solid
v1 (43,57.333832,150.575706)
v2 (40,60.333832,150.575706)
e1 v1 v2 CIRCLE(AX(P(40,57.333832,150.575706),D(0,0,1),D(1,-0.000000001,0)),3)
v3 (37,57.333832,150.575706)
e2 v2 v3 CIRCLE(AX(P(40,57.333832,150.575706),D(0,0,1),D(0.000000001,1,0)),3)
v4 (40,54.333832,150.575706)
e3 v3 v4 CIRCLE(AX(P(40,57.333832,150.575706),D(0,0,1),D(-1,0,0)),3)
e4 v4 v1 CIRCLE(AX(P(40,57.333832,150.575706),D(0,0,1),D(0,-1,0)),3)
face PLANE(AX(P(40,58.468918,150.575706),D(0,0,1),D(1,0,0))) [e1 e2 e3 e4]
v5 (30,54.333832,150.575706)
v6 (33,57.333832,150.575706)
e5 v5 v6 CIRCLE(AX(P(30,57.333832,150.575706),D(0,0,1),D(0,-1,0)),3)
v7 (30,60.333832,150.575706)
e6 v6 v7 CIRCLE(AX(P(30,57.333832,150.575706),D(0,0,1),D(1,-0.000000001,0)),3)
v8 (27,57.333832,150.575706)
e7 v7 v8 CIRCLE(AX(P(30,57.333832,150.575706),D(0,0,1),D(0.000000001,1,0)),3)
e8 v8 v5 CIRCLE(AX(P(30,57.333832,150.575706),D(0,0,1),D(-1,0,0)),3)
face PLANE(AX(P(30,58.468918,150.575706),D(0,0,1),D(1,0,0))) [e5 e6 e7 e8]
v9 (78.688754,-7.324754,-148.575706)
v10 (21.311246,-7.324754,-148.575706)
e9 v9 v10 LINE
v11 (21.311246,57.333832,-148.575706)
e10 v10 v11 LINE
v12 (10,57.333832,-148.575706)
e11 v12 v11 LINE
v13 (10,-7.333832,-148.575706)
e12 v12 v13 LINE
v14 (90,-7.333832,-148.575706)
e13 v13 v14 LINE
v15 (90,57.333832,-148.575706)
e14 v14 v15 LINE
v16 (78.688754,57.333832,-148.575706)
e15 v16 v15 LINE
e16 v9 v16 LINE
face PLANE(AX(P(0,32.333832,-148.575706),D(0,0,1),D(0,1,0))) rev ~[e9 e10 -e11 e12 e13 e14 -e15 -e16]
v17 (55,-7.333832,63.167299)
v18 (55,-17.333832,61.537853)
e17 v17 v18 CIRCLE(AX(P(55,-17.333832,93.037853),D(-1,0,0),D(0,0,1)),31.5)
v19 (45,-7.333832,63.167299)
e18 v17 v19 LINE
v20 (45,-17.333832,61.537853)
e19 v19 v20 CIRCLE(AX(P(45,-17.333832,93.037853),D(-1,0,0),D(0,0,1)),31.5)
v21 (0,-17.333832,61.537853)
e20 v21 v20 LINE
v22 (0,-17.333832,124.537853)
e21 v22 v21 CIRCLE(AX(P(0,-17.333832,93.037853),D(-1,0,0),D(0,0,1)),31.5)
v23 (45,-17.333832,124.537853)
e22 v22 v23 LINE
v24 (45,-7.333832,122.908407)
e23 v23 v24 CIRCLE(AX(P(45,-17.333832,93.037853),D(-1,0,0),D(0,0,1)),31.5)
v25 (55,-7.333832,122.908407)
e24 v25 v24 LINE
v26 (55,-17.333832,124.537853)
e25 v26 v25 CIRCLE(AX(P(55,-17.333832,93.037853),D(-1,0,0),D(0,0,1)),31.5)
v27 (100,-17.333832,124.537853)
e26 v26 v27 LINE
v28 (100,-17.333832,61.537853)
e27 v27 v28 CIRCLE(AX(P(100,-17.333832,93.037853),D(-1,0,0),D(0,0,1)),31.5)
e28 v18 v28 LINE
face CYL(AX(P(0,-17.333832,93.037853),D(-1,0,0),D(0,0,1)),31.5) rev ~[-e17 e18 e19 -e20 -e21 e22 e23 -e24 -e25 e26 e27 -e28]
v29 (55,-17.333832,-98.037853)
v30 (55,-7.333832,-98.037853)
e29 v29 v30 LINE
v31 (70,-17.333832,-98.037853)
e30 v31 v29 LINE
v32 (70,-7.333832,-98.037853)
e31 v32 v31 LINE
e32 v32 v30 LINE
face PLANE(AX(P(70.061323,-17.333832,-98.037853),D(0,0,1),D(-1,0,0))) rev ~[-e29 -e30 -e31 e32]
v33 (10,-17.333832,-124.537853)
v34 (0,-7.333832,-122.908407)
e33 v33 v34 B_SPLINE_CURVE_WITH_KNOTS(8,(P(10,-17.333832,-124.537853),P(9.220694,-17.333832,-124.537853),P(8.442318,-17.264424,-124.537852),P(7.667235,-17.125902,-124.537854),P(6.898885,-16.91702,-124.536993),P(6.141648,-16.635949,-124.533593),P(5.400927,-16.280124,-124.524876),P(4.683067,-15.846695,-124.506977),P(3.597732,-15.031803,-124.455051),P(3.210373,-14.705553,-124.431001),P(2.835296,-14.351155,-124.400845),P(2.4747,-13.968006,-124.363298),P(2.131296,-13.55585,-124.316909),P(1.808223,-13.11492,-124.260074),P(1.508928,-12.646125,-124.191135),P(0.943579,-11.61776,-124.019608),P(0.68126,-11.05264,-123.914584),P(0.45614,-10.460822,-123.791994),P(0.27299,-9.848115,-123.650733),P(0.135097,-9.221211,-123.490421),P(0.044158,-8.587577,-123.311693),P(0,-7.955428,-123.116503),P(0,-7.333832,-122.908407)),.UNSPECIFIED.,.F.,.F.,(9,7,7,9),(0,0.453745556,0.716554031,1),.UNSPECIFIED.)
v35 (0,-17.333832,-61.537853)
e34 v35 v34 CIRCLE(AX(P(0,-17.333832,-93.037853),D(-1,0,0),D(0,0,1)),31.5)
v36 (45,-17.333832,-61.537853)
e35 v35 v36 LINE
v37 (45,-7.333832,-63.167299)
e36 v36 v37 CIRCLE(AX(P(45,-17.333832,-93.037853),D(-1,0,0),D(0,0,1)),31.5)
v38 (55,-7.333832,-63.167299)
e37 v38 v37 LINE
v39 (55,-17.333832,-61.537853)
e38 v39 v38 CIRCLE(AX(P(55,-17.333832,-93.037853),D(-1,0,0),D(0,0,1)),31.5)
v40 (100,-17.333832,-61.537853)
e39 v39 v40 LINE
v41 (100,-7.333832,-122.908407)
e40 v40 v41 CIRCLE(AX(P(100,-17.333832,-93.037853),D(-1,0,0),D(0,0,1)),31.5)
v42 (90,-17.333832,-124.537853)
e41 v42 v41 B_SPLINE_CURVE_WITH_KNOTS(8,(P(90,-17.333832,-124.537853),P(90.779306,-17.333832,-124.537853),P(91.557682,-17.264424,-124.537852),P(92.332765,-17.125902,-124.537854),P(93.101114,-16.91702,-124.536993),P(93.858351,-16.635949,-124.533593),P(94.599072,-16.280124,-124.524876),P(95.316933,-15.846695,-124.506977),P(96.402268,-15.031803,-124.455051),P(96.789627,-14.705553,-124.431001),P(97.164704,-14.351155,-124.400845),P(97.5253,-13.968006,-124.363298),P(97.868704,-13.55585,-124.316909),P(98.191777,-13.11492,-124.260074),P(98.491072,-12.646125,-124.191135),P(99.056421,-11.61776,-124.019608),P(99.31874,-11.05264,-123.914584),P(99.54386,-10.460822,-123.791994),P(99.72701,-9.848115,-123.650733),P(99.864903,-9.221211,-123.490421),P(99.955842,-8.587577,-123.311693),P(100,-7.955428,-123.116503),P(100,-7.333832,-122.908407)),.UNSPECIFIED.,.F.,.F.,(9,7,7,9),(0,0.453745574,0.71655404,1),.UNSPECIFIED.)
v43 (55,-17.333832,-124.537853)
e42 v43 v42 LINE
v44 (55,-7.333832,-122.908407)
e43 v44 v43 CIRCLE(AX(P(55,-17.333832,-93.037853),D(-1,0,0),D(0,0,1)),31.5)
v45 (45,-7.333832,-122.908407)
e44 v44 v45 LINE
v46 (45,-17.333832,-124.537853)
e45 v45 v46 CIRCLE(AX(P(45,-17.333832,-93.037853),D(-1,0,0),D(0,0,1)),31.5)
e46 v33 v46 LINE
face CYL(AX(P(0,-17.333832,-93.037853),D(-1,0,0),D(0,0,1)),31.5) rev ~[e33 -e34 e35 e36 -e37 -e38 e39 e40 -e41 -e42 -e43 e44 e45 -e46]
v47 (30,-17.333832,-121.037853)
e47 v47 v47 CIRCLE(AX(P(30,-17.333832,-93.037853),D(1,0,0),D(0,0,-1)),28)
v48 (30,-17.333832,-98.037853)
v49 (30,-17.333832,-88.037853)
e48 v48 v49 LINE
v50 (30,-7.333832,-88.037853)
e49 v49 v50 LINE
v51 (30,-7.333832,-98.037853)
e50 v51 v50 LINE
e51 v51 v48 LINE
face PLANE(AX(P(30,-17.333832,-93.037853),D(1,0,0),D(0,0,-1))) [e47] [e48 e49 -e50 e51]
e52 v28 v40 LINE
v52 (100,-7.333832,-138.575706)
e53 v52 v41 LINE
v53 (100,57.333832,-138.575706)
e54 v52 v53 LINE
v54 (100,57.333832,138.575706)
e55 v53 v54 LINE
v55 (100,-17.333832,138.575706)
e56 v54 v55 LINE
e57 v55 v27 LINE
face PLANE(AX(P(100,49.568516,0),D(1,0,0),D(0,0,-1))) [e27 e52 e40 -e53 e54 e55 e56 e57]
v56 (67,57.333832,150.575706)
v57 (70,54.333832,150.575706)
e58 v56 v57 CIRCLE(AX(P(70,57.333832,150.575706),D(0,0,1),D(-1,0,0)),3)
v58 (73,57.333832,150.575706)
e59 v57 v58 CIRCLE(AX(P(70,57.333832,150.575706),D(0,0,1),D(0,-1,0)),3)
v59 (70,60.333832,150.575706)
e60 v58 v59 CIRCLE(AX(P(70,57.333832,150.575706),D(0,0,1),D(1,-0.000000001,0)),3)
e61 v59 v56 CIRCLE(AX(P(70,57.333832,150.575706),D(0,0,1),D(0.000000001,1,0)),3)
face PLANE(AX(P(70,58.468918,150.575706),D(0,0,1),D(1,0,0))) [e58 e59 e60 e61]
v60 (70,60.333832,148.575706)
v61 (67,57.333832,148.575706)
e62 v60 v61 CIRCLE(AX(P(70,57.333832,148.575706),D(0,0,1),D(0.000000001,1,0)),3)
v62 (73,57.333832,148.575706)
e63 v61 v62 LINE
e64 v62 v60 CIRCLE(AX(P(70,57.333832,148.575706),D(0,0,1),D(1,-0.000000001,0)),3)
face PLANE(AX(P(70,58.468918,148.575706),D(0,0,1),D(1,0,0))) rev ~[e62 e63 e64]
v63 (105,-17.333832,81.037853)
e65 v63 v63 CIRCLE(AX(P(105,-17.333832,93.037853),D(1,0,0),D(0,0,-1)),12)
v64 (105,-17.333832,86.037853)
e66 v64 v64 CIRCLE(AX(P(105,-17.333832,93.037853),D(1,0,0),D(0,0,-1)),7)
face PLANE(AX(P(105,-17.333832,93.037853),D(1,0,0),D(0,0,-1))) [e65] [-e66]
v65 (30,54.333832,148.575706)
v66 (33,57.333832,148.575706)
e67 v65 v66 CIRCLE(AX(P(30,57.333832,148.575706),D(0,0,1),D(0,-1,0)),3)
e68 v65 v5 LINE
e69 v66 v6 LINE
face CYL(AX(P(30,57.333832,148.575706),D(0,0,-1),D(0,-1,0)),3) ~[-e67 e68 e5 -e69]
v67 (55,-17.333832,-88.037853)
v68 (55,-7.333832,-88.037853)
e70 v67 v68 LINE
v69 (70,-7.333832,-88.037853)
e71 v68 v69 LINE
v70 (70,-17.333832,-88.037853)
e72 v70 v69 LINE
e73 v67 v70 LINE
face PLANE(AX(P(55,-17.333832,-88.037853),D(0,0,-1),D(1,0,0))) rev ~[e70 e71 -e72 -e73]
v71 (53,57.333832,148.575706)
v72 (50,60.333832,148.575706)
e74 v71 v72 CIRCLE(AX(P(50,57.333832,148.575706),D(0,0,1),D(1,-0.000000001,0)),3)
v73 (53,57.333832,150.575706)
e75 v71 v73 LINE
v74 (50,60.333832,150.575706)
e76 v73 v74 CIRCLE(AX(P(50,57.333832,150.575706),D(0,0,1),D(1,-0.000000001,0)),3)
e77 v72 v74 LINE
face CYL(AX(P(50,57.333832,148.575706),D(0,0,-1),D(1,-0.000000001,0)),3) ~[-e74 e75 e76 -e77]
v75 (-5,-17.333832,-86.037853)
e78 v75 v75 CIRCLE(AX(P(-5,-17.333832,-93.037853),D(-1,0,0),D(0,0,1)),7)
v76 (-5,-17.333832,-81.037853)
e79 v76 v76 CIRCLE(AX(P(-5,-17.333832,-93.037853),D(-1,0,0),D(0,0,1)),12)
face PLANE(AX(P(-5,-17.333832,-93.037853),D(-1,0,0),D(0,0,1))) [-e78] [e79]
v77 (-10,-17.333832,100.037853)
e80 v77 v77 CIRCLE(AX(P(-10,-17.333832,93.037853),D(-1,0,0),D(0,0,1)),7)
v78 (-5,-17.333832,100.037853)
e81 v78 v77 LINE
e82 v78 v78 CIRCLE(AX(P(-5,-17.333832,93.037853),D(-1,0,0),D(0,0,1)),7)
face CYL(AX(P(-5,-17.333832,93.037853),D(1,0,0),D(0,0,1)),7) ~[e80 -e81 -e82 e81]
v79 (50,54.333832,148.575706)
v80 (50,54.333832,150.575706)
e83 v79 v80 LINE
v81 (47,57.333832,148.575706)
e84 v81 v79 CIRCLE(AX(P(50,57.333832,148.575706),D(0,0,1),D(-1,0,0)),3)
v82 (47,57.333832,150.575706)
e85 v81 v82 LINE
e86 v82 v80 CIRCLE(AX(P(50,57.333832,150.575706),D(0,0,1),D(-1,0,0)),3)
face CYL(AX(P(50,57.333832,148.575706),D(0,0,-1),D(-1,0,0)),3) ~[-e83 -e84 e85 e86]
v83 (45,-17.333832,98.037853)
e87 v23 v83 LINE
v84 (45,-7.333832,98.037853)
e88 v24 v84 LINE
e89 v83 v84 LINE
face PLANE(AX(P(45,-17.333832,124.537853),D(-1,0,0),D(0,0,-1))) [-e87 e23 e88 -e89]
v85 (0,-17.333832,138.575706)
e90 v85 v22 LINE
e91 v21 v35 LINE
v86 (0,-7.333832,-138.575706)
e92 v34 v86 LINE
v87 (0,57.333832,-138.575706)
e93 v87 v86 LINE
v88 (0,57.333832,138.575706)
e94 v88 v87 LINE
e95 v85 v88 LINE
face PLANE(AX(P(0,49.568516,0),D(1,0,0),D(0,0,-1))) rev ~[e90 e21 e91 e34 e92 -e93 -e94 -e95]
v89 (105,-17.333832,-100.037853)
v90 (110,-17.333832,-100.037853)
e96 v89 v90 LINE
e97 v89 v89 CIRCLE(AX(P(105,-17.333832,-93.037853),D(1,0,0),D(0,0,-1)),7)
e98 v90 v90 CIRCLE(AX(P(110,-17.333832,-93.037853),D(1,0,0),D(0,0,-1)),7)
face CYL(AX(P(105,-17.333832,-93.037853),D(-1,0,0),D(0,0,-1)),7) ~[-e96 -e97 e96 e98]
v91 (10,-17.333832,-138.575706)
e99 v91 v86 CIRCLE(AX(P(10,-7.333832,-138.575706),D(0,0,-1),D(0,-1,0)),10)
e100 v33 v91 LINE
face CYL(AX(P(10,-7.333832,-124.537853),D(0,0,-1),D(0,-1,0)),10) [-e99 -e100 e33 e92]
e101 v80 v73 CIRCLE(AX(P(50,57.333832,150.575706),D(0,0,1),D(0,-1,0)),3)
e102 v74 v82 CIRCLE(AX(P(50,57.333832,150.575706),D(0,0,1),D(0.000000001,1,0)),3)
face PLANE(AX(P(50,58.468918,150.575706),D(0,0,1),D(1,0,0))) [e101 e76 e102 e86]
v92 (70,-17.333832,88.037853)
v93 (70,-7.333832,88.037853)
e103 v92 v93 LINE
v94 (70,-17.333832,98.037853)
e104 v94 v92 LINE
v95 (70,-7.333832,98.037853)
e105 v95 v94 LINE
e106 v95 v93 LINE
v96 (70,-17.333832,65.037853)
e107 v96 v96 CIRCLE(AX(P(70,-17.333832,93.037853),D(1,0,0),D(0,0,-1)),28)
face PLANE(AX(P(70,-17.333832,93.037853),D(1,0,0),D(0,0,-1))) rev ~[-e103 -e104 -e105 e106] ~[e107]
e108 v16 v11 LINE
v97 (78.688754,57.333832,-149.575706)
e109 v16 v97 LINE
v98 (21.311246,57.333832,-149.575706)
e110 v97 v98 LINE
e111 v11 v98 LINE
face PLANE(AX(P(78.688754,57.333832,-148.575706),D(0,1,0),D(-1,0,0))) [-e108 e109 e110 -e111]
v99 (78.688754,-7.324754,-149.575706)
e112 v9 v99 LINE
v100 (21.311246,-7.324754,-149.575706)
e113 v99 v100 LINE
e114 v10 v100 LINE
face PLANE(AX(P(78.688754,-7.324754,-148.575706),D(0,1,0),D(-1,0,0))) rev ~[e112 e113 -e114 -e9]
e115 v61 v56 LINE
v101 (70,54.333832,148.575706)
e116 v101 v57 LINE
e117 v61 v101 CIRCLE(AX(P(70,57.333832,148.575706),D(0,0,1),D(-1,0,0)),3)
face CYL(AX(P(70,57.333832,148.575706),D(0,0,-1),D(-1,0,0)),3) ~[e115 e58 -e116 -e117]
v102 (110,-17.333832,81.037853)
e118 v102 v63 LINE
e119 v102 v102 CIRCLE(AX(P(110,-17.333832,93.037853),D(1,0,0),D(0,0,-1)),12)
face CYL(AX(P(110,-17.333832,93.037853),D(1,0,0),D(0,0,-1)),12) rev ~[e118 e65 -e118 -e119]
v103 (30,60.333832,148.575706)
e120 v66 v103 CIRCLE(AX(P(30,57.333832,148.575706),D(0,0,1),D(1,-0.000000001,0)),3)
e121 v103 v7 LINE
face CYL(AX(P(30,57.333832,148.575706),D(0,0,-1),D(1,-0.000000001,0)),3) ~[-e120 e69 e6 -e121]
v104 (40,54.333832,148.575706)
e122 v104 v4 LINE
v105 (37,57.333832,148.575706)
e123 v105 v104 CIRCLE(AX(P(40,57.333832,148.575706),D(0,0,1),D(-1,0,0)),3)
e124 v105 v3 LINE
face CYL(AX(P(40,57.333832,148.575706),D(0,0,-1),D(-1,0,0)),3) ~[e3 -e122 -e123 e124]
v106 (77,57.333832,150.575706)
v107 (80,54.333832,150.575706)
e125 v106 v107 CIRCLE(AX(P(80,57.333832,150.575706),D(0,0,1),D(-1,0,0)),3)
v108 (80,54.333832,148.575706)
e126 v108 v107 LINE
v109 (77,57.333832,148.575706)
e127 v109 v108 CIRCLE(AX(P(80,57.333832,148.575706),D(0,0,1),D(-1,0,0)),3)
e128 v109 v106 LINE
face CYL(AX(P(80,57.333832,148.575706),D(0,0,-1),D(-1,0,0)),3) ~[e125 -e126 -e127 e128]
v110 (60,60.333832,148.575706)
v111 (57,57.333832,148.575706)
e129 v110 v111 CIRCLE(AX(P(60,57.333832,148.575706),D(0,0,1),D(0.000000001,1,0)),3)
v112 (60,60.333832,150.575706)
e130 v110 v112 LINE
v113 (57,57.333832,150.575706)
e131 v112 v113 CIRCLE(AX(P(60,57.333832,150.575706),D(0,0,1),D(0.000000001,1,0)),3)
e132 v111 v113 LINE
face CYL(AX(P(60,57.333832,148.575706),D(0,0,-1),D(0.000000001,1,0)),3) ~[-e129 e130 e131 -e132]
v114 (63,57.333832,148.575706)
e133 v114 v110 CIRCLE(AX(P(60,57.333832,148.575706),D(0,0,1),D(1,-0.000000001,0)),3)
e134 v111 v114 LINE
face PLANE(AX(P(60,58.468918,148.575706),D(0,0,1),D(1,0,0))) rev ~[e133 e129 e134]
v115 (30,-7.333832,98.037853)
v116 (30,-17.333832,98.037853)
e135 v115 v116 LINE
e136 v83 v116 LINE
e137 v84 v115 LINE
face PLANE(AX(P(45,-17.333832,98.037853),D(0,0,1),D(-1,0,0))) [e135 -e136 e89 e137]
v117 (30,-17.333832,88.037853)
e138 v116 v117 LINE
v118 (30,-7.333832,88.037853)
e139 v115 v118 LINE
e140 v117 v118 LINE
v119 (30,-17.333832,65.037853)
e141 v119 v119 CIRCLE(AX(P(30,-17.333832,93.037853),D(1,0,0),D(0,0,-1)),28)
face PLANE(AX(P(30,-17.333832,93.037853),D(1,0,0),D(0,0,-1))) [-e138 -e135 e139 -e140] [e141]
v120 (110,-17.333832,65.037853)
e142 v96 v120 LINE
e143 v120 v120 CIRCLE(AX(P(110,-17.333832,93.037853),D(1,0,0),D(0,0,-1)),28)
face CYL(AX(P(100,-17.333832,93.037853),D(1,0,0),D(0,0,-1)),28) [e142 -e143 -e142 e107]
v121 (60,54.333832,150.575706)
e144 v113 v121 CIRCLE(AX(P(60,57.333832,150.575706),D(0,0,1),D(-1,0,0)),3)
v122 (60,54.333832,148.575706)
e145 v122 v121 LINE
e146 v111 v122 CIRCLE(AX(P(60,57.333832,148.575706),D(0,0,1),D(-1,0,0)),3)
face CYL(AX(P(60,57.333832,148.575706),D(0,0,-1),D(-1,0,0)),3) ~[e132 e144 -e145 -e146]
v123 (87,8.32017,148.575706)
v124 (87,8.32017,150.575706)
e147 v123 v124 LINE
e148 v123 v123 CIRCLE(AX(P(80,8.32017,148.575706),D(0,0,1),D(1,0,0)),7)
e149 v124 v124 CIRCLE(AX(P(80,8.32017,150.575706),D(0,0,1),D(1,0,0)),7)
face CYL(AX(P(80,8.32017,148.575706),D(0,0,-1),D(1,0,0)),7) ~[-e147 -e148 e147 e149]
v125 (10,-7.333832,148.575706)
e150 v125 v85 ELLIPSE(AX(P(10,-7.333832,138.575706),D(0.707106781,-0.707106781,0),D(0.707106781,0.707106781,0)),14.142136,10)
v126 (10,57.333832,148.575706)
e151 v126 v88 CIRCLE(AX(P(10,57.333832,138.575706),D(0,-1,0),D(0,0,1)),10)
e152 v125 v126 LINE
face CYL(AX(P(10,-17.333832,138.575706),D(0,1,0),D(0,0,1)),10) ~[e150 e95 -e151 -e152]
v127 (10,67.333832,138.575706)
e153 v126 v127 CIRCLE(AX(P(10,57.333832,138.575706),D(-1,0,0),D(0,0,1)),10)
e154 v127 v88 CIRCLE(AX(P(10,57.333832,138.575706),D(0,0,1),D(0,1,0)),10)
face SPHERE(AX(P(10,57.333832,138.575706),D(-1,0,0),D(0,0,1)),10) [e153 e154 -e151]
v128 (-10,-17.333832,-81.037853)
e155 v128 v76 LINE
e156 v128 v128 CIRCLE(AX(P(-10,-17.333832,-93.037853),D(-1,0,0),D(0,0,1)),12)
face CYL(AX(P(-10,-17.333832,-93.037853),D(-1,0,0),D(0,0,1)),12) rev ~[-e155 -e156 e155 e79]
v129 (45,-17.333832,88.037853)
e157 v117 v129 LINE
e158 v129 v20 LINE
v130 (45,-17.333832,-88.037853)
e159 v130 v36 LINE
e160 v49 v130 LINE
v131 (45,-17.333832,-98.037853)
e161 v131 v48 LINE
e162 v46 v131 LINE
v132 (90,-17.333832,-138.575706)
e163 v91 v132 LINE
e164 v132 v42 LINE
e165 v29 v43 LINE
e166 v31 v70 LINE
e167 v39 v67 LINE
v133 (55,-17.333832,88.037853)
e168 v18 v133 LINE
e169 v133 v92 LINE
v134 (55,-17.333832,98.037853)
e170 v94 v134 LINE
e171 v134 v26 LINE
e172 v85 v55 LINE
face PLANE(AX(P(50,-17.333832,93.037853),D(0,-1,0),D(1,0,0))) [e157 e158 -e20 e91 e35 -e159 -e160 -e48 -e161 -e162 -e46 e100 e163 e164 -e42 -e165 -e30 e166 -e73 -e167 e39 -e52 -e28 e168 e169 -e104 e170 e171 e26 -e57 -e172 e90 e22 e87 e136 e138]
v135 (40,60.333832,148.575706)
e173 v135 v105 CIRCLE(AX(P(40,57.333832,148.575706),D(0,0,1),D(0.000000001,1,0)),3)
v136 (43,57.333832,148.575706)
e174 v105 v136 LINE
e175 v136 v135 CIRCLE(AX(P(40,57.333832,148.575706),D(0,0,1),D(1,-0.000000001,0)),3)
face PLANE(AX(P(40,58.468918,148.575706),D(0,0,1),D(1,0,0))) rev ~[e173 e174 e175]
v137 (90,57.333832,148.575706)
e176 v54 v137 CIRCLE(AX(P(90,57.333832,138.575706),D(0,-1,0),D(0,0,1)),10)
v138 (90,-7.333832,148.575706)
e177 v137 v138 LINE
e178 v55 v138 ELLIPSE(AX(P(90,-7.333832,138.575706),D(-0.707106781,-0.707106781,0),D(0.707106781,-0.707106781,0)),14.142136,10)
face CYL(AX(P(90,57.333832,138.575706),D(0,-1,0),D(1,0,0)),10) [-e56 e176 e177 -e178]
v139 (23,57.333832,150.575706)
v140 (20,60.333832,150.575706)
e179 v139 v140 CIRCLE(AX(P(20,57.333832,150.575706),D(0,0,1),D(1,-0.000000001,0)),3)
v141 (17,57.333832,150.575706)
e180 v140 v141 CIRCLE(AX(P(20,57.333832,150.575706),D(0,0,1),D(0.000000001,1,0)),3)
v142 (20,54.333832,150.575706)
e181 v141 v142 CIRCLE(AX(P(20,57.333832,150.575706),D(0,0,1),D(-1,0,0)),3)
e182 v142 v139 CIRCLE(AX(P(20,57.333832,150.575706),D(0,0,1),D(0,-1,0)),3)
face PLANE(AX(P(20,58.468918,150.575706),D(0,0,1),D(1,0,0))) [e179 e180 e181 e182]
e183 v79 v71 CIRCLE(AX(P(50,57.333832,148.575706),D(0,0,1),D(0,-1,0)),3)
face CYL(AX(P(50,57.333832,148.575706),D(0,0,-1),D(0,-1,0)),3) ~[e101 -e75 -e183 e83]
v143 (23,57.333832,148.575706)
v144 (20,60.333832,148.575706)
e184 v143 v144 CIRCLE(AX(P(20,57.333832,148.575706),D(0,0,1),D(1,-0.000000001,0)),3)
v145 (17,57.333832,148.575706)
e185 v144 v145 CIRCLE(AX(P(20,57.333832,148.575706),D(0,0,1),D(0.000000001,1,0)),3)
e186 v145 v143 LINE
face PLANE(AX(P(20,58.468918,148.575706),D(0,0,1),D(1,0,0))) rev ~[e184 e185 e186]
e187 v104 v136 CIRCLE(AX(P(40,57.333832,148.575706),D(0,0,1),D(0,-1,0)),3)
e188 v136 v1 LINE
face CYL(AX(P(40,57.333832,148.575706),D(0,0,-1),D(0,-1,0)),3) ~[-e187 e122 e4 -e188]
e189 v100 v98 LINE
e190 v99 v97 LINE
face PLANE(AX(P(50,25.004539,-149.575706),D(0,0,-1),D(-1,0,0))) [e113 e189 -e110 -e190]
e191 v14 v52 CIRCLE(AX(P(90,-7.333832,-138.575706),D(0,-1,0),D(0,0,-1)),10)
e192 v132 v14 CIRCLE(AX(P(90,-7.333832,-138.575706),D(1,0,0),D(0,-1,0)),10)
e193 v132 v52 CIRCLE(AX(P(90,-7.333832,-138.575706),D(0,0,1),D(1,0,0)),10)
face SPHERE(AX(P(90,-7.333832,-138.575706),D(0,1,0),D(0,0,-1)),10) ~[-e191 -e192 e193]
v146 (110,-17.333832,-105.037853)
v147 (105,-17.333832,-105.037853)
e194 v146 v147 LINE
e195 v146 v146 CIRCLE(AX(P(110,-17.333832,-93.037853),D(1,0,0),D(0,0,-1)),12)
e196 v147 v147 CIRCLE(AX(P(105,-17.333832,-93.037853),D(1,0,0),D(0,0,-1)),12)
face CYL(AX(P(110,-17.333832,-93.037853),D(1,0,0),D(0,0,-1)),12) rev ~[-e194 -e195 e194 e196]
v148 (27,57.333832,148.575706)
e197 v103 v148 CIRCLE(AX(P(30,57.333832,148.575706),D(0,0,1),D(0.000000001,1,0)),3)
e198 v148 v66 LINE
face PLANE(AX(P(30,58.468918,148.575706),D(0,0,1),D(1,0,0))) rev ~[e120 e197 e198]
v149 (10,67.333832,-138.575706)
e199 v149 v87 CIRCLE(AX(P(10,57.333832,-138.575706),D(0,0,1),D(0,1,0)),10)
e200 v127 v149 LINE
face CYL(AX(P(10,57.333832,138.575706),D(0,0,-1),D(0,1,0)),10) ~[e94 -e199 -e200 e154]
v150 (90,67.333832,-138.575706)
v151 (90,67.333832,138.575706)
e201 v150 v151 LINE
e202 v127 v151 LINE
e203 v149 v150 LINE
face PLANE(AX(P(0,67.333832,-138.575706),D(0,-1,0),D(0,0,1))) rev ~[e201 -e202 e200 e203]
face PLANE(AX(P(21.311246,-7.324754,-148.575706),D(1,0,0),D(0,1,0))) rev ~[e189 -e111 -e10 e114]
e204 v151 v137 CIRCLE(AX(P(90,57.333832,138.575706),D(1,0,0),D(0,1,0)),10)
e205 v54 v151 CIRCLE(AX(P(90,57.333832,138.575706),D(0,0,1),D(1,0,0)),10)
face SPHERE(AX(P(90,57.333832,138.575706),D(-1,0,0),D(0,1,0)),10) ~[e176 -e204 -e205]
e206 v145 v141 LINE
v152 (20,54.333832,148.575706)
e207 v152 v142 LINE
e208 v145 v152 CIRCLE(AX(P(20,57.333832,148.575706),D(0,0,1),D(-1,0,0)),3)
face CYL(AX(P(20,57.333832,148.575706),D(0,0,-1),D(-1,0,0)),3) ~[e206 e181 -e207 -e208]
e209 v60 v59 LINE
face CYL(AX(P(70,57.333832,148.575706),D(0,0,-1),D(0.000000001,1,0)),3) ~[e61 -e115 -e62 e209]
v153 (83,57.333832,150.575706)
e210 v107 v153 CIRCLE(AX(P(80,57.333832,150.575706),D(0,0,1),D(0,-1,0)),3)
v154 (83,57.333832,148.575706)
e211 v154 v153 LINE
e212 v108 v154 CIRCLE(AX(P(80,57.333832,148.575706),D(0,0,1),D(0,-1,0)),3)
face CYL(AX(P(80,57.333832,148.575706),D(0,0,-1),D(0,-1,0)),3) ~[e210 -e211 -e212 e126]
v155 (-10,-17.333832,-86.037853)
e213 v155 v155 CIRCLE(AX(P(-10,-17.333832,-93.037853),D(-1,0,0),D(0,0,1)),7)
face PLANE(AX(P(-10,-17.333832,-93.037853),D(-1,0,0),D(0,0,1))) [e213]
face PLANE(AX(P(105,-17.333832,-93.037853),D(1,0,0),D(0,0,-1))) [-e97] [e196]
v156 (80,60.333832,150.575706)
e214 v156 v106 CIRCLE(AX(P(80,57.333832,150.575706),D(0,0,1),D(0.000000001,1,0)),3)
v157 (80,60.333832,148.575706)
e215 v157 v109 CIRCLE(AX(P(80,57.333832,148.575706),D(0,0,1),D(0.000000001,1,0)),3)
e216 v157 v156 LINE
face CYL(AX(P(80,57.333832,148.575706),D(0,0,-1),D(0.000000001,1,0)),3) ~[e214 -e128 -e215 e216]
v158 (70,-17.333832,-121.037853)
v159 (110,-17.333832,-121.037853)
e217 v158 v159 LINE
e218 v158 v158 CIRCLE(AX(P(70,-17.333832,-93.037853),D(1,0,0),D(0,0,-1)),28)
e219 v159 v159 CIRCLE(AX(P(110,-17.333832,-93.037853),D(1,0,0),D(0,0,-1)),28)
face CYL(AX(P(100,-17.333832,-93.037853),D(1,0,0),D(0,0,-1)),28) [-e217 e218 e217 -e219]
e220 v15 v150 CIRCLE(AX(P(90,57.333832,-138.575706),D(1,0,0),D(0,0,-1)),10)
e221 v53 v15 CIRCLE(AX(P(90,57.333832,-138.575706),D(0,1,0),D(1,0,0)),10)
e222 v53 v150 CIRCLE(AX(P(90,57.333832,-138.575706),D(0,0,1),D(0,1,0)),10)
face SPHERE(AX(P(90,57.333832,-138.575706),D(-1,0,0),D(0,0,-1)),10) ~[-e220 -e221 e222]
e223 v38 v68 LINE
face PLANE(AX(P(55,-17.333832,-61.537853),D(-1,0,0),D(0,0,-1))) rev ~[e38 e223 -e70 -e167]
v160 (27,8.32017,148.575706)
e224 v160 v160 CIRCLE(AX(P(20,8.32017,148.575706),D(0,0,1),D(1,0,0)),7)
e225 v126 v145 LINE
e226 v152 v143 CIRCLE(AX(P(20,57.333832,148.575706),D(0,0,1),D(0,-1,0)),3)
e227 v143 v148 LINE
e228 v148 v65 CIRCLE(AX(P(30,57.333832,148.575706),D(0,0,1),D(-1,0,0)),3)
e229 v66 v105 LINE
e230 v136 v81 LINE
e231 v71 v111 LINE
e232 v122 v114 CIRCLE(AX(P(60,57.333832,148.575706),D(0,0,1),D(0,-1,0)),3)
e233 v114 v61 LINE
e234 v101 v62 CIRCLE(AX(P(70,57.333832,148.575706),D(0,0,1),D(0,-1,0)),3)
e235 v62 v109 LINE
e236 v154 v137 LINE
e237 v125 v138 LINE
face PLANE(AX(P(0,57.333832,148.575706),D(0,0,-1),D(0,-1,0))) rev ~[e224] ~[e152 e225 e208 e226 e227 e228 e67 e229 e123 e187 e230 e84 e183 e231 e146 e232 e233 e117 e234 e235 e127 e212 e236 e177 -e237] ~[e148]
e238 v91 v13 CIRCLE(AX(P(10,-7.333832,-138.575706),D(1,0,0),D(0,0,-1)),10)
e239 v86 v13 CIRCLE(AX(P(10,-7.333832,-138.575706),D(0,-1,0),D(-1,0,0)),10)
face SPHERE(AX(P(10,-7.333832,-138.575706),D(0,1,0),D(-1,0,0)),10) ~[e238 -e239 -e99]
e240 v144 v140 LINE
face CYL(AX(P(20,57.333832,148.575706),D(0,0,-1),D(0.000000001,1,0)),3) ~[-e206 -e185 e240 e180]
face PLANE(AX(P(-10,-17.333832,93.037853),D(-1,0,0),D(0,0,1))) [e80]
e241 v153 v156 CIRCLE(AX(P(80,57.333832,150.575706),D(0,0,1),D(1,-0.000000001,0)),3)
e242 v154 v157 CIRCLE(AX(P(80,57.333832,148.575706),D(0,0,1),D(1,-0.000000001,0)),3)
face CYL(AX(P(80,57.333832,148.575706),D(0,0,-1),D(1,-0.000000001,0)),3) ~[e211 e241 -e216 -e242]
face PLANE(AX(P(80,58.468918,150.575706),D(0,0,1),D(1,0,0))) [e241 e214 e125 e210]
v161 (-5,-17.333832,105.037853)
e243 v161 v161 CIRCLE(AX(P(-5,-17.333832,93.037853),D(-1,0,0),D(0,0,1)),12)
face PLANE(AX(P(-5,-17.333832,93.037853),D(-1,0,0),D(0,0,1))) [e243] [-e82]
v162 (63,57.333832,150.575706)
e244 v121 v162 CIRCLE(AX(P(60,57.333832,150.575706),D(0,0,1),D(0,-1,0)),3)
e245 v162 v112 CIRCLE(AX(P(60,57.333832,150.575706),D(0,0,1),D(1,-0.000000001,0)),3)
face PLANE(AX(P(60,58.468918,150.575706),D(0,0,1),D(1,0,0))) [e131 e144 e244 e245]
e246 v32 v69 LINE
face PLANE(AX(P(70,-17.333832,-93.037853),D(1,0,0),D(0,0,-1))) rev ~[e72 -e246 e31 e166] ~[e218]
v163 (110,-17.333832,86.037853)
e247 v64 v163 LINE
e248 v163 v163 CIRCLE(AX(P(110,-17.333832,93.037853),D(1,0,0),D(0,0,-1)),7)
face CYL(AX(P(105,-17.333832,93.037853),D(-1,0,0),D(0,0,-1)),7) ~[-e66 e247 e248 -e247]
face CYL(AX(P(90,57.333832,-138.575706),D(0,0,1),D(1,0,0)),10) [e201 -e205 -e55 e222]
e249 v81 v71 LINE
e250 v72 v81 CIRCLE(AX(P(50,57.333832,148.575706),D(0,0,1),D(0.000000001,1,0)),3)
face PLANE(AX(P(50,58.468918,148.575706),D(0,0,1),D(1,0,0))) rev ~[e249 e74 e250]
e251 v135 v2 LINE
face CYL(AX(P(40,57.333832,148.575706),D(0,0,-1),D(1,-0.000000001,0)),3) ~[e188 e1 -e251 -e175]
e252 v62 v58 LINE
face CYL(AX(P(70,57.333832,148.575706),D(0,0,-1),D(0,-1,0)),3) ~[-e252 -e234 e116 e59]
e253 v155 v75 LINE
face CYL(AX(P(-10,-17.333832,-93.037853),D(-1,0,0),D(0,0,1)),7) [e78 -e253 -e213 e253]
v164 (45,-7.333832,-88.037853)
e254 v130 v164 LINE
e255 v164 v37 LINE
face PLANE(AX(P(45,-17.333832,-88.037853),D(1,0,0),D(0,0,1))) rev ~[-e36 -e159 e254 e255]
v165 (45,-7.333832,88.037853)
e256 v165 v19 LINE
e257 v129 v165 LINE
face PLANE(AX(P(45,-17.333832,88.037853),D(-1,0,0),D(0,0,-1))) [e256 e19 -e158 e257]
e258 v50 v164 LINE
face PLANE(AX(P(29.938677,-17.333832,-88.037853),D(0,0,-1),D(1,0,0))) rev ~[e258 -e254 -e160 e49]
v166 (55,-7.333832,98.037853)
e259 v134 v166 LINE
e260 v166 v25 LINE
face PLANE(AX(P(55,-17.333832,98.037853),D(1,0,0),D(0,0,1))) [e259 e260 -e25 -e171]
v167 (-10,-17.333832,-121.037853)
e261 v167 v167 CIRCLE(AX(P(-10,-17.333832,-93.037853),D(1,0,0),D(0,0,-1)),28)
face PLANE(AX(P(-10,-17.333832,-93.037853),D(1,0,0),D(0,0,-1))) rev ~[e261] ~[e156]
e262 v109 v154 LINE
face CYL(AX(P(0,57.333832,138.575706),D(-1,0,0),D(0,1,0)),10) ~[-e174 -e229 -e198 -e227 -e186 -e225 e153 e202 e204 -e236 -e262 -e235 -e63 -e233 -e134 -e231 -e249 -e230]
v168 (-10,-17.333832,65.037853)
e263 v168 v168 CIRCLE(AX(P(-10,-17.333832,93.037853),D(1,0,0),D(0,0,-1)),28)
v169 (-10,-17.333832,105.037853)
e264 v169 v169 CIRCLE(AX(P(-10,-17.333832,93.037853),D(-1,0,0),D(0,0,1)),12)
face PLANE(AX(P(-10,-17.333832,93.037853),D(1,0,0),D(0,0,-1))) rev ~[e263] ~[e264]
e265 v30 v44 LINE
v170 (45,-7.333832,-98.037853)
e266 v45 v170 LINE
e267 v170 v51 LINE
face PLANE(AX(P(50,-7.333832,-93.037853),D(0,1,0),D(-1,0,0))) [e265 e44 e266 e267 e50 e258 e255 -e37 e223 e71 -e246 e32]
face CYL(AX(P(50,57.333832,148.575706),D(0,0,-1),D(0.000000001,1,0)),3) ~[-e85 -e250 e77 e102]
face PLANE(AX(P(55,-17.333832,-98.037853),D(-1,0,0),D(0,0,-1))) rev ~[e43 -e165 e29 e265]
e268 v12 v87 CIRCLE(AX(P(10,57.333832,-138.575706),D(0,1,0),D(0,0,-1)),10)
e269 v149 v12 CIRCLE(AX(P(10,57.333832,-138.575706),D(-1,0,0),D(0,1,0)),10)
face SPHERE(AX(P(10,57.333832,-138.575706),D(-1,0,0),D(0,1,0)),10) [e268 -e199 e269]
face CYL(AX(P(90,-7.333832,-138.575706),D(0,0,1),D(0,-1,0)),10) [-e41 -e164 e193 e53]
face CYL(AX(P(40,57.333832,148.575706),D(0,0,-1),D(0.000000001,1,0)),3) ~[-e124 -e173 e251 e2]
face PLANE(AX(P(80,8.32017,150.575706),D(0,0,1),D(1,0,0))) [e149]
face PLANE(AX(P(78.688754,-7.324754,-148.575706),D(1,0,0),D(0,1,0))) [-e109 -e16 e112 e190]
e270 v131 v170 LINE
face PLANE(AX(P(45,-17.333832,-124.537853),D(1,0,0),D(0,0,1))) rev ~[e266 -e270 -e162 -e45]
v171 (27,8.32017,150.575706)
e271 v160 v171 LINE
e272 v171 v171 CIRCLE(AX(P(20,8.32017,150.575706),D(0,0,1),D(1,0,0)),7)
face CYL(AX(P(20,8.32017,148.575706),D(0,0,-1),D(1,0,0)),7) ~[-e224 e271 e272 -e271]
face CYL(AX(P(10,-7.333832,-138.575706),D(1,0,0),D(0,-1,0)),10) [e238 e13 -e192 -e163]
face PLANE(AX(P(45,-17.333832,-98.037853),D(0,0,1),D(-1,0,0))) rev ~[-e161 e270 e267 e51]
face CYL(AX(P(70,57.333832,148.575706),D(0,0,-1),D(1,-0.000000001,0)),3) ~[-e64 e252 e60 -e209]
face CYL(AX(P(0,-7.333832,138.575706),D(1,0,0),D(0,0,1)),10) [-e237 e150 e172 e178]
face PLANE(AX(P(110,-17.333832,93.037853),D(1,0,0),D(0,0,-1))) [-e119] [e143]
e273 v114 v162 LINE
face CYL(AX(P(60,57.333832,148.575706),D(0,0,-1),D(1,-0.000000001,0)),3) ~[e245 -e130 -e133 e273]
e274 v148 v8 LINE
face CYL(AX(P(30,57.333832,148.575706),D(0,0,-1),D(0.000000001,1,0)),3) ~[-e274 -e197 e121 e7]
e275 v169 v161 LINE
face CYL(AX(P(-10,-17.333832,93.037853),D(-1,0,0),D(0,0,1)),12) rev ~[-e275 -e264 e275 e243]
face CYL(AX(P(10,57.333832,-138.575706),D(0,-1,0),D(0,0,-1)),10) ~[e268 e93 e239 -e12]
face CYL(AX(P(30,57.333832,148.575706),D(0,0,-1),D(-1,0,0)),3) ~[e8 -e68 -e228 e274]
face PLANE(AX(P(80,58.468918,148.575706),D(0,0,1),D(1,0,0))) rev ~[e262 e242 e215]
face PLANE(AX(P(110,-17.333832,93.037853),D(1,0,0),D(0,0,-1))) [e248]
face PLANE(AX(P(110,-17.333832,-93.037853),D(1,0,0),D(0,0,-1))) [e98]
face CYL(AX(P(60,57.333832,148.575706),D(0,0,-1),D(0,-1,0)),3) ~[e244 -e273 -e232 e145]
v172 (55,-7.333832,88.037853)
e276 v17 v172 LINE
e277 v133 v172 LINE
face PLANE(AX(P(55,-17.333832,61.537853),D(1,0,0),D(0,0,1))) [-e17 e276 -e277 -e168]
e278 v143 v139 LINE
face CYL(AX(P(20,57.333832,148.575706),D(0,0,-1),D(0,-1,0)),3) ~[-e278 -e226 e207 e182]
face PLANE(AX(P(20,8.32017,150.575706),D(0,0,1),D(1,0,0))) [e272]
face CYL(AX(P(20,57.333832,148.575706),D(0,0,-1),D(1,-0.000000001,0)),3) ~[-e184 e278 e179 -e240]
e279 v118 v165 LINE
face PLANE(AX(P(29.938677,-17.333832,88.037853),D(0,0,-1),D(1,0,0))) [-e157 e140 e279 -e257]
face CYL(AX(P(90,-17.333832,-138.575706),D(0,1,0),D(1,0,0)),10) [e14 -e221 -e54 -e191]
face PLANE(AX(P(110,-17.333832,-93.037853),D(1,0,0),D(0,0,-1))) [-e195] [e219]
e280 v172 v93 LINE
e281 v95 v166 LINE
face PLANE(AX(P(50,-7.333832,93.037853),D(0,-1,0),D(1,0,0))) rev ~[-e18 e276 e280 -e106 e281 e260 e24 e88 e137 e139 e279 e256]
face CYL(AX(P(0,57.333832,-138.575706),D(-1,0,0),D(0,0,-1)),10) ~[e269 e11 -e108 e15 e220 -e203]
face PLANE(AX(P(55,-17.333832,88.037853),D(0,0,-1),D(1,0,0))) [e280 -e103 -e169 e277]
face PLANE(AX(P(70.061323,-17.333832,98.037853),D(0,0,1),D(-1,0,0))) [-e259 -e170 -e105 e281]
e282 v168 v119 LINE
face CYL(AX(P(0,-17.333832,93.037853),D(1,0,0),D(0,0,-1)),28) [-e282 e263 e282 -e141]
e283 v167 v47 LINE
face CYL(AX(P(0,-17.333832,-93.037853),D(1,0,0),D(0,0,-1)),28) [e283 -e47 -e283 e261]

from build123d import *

# Parameters (mm, degrees)
EXTRUDE_1_DEPTH        = 100
SKETCH_2_R             = 28
EXTRUDE_2_DEPTH        = 30
EXTRUDE_2_DEPTH_BACK   = 10
EXTRUDE_2_2_DEPTH      = 30
EXTRUDE_2_2_DEPTH_BACK = 10
SKETCH_3_R             = 28
EXTRUDE_3_DEPTH        = 10
EXTRUDE_3_DEPTH_BACK   = 30
EXTRUDE_3_2_DEPTH      = 10
EXTRUDE_3_2_DEPTH_BACK = 30
EXTRUDE_5_DEPTH        = 10
EXTRUDE_7_DEPTH        = 100
FILLET_1_R             = 10
FILLET_2_R             = 10
SKETCH_10_R            = 7
EXTRUDE_9_DEPTH        = 2
SKETCH_11_R            = 12
CUT_EXTRUDE_1_DEPTH    = 5
SKETCH_12_R            = 7
EXTRUDE_11_DEPTH       = 5
SKETCH_13_R            = 12
CUT_EXTRUDE_2_DEPTH    = 5
SKETCH_14_R            = 7
EXTRUDE_12_DEPTH       = 5
SKETCH_15_R            = 12
CUT_EXTRUDE_3_DEPTH    = 5
SKETCH_16_R            = 7
EXTRUDE_13_DEPTH       = 5
SKETCH_17_R            = 12
CUT_EXTRUDE_4_DEPTH    = 5
SKETCH_18_R            = 7
EXTRUDE_14_DEPTH       = 5
SKETCH_21_W            = 57.37750778
SKETCH_21_H            = 64.658586112
EXTRUDE_15_DEPTH       = 1


with BuildPart() as part:
    # Эскиз1 → Бобышка-Вытянуть1 (new body)
    with BuildSketch(Plane(origin=(0, 0, 0), x_dir=(0, 0, -1), z_dir=(1, 0, 0))):
        with BuildLine():
            Line((-61.537852792, -17.333832318), (61.537852792, -17.333832318))
            ThreePointArc((61.537852792, -17.333832318), (93.037852792, 14.166167682), (124.537852792, -17.333832318))
            Line((124.537852792, -17.333832318), (148.575705584, -17.333832318))
            Line((148.575705584, -17.333832318), (148.575705584, 17.333832318))
            Line((148.575705584, 17.333832318), (148.575705584, 32.333832318))
            Line((148.575705584, 32.333832318), (-148.575705584, 32.333832318))
            Line((-148.575705584, 32.333832318), (-148.575705584, 17.333832318))
            Line((-148.575705584, 17.333832318), (-148.575705584, -17.333832318))
            Line((-148.575705584, -17.333832318), (-124.537852792, -17.333832318))
            ThreePointArc((-124.537852792, -17.333832318), (-93.037852792, 14.166167682), (-61.537852792, -17.333832318))
        make_face()
    extrude(amount=EXTRUDE_1_DEPTH)



with BuildPart() as body_2:
    # Эскиз2 → Бобышка-Вытянуть2 (new body, two sides)
    with BuildSketch(Plane(origin=(0, 0, 0), x_dir=(0, 0, -1), z_dir=(1, 0, 0))) as extrude_2_sk:
        with Locations((-93.037852792, -17.333832318)):
            Circle(SKETCH_2_R)
    extrude(amount=EXTRUDE_2_DEPTH)
    extrude(extrude_2_sk.sketch, amount=-EXTRUDE_2_DEPTH_BACK)


with BuildPart() as body_3:
    # Эскиз2 → Extrude 2 2 (new body, two sides)
    with BuildSketch(Plane(origin=(0, 0, 0), x_dir=(0, 0, -1), z_dir=(1, 0, 0))) as extrude_2_2_sk:
        with Locations((93.037852792, -17.333832318)):
            Circle(SKETCH_2_R)
    extrude(amount=EXTRUDE_2_2_DEPTH)
    extrude(extrude_2_2_sk.sketch, amount=-EXTRUDE_2_2_DEPTH_BACK)


with BuildPart() as body_4:
    # Эскиз3 → Бобышка-Вытянуть3 (new body, two sides)
    with BuildSketch(Plane(origin=(100, 0, 0), x_dir=(0, 0, -1), z_dir=(1, 0, 0))) as extrude_3_sk:
        with Locations((-93.037852792, -17.333832318)):
            Circle(SKETCH_3_R)
    extrude(amount=EXTRUDE_3_DEPTH)
    extrude(extrude_3_sk.sketch, amount=-EXTRUDE_3_DEPTH_BACK)


with BuildPart() as body_5:
    # Эскиз3 → Extrude 3 2 (new body, two sides)
    with BuildSketch(Plane(origin=(100, 0, 0), x_dir=(0, 0, -1), z_dir=(1, 0, 0))) as extrude_3_2_sk:
        with Locations((93.037852792, -17.333832318)):
            Circle(SKETCH_3_R)
    extrude(amount=EXTRUDE_3_2_DEPTH)
    extrude(extrude_3_2_sk.sketch, amount=-EXTRUDE_3_2_DEPTH_BACK)


with BuildPart() as part_1:
    add(part.part)

    add(body_2.part)  # Бобышка-Вытянуть5 merges body 2

    add(body_3.part)  # Бобышка-Вытянуть5 merges body 3

    add(body_4.part)  # Бобышка-Вытянуть5 merges body 4

    add(body_5.part)  # Бобышка-Вытянуть5 merges body 5
    # Эскиз4 → Бобышка-Вытянуть5 (add)
    with BuildSketch(Plane.XZ.offset(17.333832318)):
        Polygon((45, 61.537852792), (55, 61.537852792), (55, 88.037852792), (70.061323461, 88.037852792), (70.061323461, 98.037852792), (55, 98.037852792), (55, 124.537852792), (45, 124.537852792), (45, 98.037852792), (29.938676539, 98.037852792), (29.938676539, 88.037852792), (45, 88.037852792), align=None)
        Polygon((45, -61.537852792), (55, -61.537852792), (55, -88.037852792), (70.061323461, -88.037852792), (70.061323461, -98.037852792), (55, -98.037852792), (55, -124.537852792), (45, -124.537852792), (45, -98.037852792), (29.938676539, -98.037852792), (29.938676539, -88.037852792), (45, -88.037852792), align=None)
    extrude(amount=-EXTRUDE_5_DEPTH)

    # Эскиз7 → Бобышка-Вытянуть7 (add)
    with BuildSketch(Plane(origin=(0, 0, 0), x_dir=(0, 0, -1), z_dir=(1, 0, 0))):
        with BuildLine():
            Line((-148.575705584, 32.333832318), (148.575705584, 32.333832318))
            Line((148.575705584, 32.333832318), (148.575705584, 57.333832318))
            ThreePointArc((148.575705584, 57.333832318), (145.646773396, 64.40490013), (138.575705584, 67.333832318))
            Line((138.575705584, 67.333832318), (-138.575705584, 67.333832318))
            ThreePointArc((-138.575705584, 67.333832318), (-145.646773396, 64.40490013), (-148.575705584, 57.333832318))
            Line((-148.575705584, 57.333832318), (-148.575705584, 32.333832318))
        make_face()
    extrude(amount=EXTRUDE_7_DEPTH)

    # Скругление1
    fillet_1_edges = [part_1.edges().sort_by_distance(p)[0] for p in [
        (0, 7.5, 148.575705584),
        (0, 7.5, -148.575705584),
        (0, 64.40490013, -145.646773396),
        (0, 67.333832318, 0),
        (0, 64.40490013, 145.646773396),
        (100, 64.40490013, -145.646773396),
        (100, 67.333832318, 0),
        (100, 64.40490013, 145.646773396),
        (50, -17.333832318, 148.575705584),
        (100, 7.5, -148.575705584),
        (100, 7.5, 148.575705584),
    ]]
    fillet(fillet_1_edges, radius=FILLET_1_R)

    # Скругление2
    fillet_2_edges = [part_1.edges().sort_by_distance(p)[0] for p in [
        (0, -17.333832318, -131.556779188),
        (50, -17.333832318, -148.575705584),
        (2.928932188, -17.333832318, -145.646773396),
        (97.071067812, -17.333832318, -145.646773396),
        (100, -17.333832318, -131.556779188),
    ]]
    fillet(fillet_2_edges, radius=FILLET_2_R)

    # Эскиз10 → Бобышка-Вытянуть9 (add)
    with BuildSketch(Plane.XY.offset(148.575705584)):
        with Locations((20, 8.320169556)):
            Circle(SKETCH_10_R)
        with Locations((80, 8.320169556)):
            Circle(SKETCH_10_R)
        with BuildLine():
            ThreePointArc((23, 57.333832318), (22.121320344, 59.455152662), (20, 60.333832318))
            ThreePointArc((20, 60.333832318), (17.878679656, 59.455152662), (17, 57.333832318))
            Line((17, 57.333832318), (23, 57.333832318))
        make_face()
        with BuildLine():
            ThreePointArc((20, 54.333832318), (22.121320344, 55.212511975), (23, 57.333832318))
            Line((23, 57.333832318), (17, 57.333832318))
            ThreePointArc((17, 57.333832318), (17.878679656, 55.212511975), (20, 54.333832318))
        make_face()
        with BuildLine():
            ThreePointArc((33, 57.333832318), (32.121320344, 59.455152662), (30, 60.333832318))
            ThreePointArc((30, 60.333832318), (27.878679656, 59.455152662), (27, 57.333832318))
            Line((27, 57.333832318), (33, 57.333832318))
        make_face()
        with BuildLine():
            ThreePointArc((30, 54.333832318), (32.121320344, 55.212511975), (33, 57.333832318))
            Line((33, 57.333832318), (27, 57.333832318))
            ThreePointArc((27, 57.333832318), (27.878679656, 55.212511975), (30, 54.333832318))
        make_face()
        with BuildLine():
            ThreePointArc((43, 57.333832318), (42.121320344, 59.455152662), (40, 60.333832318))
            ThreePointArc((40, 60.333832318), (37.878679656, 59.455152662), (37, 57.333832318))
            Line((37, 57.333832318), (43, 57.333832318))
        make_face()
        with BuildLine():
            ThreePointArc((40, 54.333832318), (42.121320344, 55.212511975), (43, 57.333832318))
            Line((43, 57.333832318), (37, 57.333832318))
            ThreePointArc((37, 57.333832318), (37.878679656, 55.212511975), (40, 54.333832318))
        make_face()
        with BuildLine():
            ThreePointArc((53, 57.333832318), (52.121320344, 59.455152662), (50, 60.333832318))
            ThreePointArc((50, 60.333832318), (47.878679656, 59.455152662), (47, 57.333832318))
            Line((47, 57.333832318), (53, 57.333832318))
        make_face()
        with BuildLine():
            ThreePointArc((50, 54.333832318), (52.121320344, 55.212511975), (53, 57.333832318))
            Line((53, 57.333832318), (47, 57.333832318))
            ThreePointArc((47, 57.333832318), (47.878679656, 55.212511975), (50, 54.333832318))
        make_face()
        with BuildLine():
            ThreePointArc((63, 57.333832318), (62.121320344, 59.455152662), (60, 60.333832318))
            ThreePointArc((60, 60.333832318), (57.878679656, 59.455152662), (57, 57.333832318))
            Line((57, 57.333832318), (63, 57.333832318))
        make_face()
        with BuildLine():
            ThreePointArc((60, 54.333832318), (62.121320344, 55.212511975), (63, 57.333832318))
            Line((63, 57.333832318), (57, 57.333832318))
            ThreePointArc((57, 57.333832318), (57.878679656, 55.212511975), (60, 54.333832318))
        make_face()
        with BuildLine():
            ThreePointArc((73, 57.333832318), (72.121320344, 59.455152662), (70, 60.333832318))
            ThreePointArc((70, 60.333832318), (67.878679656, 59.455152662), (67, 57.333832318))
            Line((67, 57.333832318), (73, 57.333832318))
        make_face()
        with BuildLine():
            ThreePointArc((70, 54.333832318), (72.121320344, 55.212511975), (73, 57.333832318))
            Line((73, 57.333832318), (67, 57.333832318))
            ThreePointArc((67, 57.333832318), (67.878679656, 55.212511975), (70, 54.333832318))
        make_face()
        with BuildLine():
            ThreePointArc((83, 57.333832318), (82.121320344, 59.455152662), (80, 60.333832318))
            ThreePointArc((80, 60.333832318), (77.878679656, 59.455152662), (77, 57.333832318))
            Line((77, 57.333832318), (83, 57.333832318))
        make_face()
        with BuildLine():
            ThreePointArc((80, 54.333832318), (82.121320344, 55.212511975), (83, 57.333832318))
            Line((83, 57.333832318), (77, 57.333832318))
            ThreePointArc((77, 57.333832318), (77.878679656, 55.212511975), (80, 54.333832318))
        make_face()
    extrude(amount=EXTRUDE_9_DEPTH)

    # Эскиз11 → Вырез-Вытянуть1 (cut)
    with BuildSketch(Plane.ZY.offset(10)):
        with Locations((-93.037852792, -17.333832318)):
            Circle(SKETCH_11_R)
    extrude(amount=-CUT_EXTRUDE_1_DEPTH, mode=Mode.SUBTRACT)

    # Эскиз12 → Бобышка-Вытянуть11 (add)
    with BuildSketch(Plane.ZY.offset(10)):
        with Locations((-93.037852792, -17.333832318)):
            Circle(SKETCH_12_R)
    extrude(amount=-EXTRUDE_11_DEPTH)

    # Эскиз13 → Вырез-Вытянуть2 (cut)
    with BuildSketch(Plane.ZY.offset(10)):
        with Locations((93.037852792, -17.333832318)):
            Circle(SKETCH_13_R)
    extrude(amount=-CUT_EXTRUDE_2_DEPTH, mode=Mode.SUBTRACT)

    # Эскиз14 → Бобышка-Вытянуть12 (add)
    with BuildSketch(Plane.ZY.offset(5)):
        with Locations((93.037852792, -17.333832318)):
            Circle(SKETCH_14_R)
    extrude(amount=EXTRUDE_12_DEPTH)

    # Эскиз15 → Вырез-Вытянуть3 (cut)
    with BuildSketch(Plane(origin=(110, 0, 0), x_dir=(0, 0, -1), z_dir=(1, 0, 0))):
        with Locations((-93.037852792, -17.333832318)):
            Circle(SKETCH_15_R)
    extrude(amount=-CUT_EXTRUDE_3_DEPTH, mode=Mode.SUBTRACT)

    # Эскиз16 → Бобышка-Вытянуть13 (add)
    with BuildSketch(Plane(origin=(105, 0, 0), x_dir=(0, 0, -1), z_dir=(1, 0, 0))):
        with Locations((-93.037852792, -17.333832318)):
            Circle(SKETCH_16_R)
    extrude(amount=EXTRUDE_13_DEPTH)

    # Эскиз17 → Вырез-Вытянуть4 (cut)
    with BuildSketch(Plane(origin=(110, 0, 0), x_dir=(0, 0, -1), z_dir=(1, 0, 0))):
        with Locations((93.037852792, -17.333832318)):
            Circle(SKETCH_17_R)
    extrude(amount=-CUT_EXTRUDE_4_DEPTH, mode=Mode.SUBTRACT)

    # Эскиз18 → Бобышка-Вытянуть14 (add)
    with BuildSketch(Plane(origin=(105, 0, 0), x_dir=(0, 0, -1), z_dir=(1, 0, 0))):
        with Locations((93.037852792, -17.333832318)):
            Circle(SKETCH_18_R)
    extrude(amount=EXTRUDE_14_DEPTH)

    # Эскиз21 → Бобышка-Вытянуть15 (add)
    with BuildSketch(Plane(origin=(0, 0, -148.575705584), x_dir=(-1, 0, 0), z_dir=(0, 0, -1))):
        with Locations((-50, 25.004539262)):
            Rectangle(SKETCH_21_W, SKETCH_21_H)
    extrude(amount=EXTRUDE_15_DEPTH)


solid = part_1.part
